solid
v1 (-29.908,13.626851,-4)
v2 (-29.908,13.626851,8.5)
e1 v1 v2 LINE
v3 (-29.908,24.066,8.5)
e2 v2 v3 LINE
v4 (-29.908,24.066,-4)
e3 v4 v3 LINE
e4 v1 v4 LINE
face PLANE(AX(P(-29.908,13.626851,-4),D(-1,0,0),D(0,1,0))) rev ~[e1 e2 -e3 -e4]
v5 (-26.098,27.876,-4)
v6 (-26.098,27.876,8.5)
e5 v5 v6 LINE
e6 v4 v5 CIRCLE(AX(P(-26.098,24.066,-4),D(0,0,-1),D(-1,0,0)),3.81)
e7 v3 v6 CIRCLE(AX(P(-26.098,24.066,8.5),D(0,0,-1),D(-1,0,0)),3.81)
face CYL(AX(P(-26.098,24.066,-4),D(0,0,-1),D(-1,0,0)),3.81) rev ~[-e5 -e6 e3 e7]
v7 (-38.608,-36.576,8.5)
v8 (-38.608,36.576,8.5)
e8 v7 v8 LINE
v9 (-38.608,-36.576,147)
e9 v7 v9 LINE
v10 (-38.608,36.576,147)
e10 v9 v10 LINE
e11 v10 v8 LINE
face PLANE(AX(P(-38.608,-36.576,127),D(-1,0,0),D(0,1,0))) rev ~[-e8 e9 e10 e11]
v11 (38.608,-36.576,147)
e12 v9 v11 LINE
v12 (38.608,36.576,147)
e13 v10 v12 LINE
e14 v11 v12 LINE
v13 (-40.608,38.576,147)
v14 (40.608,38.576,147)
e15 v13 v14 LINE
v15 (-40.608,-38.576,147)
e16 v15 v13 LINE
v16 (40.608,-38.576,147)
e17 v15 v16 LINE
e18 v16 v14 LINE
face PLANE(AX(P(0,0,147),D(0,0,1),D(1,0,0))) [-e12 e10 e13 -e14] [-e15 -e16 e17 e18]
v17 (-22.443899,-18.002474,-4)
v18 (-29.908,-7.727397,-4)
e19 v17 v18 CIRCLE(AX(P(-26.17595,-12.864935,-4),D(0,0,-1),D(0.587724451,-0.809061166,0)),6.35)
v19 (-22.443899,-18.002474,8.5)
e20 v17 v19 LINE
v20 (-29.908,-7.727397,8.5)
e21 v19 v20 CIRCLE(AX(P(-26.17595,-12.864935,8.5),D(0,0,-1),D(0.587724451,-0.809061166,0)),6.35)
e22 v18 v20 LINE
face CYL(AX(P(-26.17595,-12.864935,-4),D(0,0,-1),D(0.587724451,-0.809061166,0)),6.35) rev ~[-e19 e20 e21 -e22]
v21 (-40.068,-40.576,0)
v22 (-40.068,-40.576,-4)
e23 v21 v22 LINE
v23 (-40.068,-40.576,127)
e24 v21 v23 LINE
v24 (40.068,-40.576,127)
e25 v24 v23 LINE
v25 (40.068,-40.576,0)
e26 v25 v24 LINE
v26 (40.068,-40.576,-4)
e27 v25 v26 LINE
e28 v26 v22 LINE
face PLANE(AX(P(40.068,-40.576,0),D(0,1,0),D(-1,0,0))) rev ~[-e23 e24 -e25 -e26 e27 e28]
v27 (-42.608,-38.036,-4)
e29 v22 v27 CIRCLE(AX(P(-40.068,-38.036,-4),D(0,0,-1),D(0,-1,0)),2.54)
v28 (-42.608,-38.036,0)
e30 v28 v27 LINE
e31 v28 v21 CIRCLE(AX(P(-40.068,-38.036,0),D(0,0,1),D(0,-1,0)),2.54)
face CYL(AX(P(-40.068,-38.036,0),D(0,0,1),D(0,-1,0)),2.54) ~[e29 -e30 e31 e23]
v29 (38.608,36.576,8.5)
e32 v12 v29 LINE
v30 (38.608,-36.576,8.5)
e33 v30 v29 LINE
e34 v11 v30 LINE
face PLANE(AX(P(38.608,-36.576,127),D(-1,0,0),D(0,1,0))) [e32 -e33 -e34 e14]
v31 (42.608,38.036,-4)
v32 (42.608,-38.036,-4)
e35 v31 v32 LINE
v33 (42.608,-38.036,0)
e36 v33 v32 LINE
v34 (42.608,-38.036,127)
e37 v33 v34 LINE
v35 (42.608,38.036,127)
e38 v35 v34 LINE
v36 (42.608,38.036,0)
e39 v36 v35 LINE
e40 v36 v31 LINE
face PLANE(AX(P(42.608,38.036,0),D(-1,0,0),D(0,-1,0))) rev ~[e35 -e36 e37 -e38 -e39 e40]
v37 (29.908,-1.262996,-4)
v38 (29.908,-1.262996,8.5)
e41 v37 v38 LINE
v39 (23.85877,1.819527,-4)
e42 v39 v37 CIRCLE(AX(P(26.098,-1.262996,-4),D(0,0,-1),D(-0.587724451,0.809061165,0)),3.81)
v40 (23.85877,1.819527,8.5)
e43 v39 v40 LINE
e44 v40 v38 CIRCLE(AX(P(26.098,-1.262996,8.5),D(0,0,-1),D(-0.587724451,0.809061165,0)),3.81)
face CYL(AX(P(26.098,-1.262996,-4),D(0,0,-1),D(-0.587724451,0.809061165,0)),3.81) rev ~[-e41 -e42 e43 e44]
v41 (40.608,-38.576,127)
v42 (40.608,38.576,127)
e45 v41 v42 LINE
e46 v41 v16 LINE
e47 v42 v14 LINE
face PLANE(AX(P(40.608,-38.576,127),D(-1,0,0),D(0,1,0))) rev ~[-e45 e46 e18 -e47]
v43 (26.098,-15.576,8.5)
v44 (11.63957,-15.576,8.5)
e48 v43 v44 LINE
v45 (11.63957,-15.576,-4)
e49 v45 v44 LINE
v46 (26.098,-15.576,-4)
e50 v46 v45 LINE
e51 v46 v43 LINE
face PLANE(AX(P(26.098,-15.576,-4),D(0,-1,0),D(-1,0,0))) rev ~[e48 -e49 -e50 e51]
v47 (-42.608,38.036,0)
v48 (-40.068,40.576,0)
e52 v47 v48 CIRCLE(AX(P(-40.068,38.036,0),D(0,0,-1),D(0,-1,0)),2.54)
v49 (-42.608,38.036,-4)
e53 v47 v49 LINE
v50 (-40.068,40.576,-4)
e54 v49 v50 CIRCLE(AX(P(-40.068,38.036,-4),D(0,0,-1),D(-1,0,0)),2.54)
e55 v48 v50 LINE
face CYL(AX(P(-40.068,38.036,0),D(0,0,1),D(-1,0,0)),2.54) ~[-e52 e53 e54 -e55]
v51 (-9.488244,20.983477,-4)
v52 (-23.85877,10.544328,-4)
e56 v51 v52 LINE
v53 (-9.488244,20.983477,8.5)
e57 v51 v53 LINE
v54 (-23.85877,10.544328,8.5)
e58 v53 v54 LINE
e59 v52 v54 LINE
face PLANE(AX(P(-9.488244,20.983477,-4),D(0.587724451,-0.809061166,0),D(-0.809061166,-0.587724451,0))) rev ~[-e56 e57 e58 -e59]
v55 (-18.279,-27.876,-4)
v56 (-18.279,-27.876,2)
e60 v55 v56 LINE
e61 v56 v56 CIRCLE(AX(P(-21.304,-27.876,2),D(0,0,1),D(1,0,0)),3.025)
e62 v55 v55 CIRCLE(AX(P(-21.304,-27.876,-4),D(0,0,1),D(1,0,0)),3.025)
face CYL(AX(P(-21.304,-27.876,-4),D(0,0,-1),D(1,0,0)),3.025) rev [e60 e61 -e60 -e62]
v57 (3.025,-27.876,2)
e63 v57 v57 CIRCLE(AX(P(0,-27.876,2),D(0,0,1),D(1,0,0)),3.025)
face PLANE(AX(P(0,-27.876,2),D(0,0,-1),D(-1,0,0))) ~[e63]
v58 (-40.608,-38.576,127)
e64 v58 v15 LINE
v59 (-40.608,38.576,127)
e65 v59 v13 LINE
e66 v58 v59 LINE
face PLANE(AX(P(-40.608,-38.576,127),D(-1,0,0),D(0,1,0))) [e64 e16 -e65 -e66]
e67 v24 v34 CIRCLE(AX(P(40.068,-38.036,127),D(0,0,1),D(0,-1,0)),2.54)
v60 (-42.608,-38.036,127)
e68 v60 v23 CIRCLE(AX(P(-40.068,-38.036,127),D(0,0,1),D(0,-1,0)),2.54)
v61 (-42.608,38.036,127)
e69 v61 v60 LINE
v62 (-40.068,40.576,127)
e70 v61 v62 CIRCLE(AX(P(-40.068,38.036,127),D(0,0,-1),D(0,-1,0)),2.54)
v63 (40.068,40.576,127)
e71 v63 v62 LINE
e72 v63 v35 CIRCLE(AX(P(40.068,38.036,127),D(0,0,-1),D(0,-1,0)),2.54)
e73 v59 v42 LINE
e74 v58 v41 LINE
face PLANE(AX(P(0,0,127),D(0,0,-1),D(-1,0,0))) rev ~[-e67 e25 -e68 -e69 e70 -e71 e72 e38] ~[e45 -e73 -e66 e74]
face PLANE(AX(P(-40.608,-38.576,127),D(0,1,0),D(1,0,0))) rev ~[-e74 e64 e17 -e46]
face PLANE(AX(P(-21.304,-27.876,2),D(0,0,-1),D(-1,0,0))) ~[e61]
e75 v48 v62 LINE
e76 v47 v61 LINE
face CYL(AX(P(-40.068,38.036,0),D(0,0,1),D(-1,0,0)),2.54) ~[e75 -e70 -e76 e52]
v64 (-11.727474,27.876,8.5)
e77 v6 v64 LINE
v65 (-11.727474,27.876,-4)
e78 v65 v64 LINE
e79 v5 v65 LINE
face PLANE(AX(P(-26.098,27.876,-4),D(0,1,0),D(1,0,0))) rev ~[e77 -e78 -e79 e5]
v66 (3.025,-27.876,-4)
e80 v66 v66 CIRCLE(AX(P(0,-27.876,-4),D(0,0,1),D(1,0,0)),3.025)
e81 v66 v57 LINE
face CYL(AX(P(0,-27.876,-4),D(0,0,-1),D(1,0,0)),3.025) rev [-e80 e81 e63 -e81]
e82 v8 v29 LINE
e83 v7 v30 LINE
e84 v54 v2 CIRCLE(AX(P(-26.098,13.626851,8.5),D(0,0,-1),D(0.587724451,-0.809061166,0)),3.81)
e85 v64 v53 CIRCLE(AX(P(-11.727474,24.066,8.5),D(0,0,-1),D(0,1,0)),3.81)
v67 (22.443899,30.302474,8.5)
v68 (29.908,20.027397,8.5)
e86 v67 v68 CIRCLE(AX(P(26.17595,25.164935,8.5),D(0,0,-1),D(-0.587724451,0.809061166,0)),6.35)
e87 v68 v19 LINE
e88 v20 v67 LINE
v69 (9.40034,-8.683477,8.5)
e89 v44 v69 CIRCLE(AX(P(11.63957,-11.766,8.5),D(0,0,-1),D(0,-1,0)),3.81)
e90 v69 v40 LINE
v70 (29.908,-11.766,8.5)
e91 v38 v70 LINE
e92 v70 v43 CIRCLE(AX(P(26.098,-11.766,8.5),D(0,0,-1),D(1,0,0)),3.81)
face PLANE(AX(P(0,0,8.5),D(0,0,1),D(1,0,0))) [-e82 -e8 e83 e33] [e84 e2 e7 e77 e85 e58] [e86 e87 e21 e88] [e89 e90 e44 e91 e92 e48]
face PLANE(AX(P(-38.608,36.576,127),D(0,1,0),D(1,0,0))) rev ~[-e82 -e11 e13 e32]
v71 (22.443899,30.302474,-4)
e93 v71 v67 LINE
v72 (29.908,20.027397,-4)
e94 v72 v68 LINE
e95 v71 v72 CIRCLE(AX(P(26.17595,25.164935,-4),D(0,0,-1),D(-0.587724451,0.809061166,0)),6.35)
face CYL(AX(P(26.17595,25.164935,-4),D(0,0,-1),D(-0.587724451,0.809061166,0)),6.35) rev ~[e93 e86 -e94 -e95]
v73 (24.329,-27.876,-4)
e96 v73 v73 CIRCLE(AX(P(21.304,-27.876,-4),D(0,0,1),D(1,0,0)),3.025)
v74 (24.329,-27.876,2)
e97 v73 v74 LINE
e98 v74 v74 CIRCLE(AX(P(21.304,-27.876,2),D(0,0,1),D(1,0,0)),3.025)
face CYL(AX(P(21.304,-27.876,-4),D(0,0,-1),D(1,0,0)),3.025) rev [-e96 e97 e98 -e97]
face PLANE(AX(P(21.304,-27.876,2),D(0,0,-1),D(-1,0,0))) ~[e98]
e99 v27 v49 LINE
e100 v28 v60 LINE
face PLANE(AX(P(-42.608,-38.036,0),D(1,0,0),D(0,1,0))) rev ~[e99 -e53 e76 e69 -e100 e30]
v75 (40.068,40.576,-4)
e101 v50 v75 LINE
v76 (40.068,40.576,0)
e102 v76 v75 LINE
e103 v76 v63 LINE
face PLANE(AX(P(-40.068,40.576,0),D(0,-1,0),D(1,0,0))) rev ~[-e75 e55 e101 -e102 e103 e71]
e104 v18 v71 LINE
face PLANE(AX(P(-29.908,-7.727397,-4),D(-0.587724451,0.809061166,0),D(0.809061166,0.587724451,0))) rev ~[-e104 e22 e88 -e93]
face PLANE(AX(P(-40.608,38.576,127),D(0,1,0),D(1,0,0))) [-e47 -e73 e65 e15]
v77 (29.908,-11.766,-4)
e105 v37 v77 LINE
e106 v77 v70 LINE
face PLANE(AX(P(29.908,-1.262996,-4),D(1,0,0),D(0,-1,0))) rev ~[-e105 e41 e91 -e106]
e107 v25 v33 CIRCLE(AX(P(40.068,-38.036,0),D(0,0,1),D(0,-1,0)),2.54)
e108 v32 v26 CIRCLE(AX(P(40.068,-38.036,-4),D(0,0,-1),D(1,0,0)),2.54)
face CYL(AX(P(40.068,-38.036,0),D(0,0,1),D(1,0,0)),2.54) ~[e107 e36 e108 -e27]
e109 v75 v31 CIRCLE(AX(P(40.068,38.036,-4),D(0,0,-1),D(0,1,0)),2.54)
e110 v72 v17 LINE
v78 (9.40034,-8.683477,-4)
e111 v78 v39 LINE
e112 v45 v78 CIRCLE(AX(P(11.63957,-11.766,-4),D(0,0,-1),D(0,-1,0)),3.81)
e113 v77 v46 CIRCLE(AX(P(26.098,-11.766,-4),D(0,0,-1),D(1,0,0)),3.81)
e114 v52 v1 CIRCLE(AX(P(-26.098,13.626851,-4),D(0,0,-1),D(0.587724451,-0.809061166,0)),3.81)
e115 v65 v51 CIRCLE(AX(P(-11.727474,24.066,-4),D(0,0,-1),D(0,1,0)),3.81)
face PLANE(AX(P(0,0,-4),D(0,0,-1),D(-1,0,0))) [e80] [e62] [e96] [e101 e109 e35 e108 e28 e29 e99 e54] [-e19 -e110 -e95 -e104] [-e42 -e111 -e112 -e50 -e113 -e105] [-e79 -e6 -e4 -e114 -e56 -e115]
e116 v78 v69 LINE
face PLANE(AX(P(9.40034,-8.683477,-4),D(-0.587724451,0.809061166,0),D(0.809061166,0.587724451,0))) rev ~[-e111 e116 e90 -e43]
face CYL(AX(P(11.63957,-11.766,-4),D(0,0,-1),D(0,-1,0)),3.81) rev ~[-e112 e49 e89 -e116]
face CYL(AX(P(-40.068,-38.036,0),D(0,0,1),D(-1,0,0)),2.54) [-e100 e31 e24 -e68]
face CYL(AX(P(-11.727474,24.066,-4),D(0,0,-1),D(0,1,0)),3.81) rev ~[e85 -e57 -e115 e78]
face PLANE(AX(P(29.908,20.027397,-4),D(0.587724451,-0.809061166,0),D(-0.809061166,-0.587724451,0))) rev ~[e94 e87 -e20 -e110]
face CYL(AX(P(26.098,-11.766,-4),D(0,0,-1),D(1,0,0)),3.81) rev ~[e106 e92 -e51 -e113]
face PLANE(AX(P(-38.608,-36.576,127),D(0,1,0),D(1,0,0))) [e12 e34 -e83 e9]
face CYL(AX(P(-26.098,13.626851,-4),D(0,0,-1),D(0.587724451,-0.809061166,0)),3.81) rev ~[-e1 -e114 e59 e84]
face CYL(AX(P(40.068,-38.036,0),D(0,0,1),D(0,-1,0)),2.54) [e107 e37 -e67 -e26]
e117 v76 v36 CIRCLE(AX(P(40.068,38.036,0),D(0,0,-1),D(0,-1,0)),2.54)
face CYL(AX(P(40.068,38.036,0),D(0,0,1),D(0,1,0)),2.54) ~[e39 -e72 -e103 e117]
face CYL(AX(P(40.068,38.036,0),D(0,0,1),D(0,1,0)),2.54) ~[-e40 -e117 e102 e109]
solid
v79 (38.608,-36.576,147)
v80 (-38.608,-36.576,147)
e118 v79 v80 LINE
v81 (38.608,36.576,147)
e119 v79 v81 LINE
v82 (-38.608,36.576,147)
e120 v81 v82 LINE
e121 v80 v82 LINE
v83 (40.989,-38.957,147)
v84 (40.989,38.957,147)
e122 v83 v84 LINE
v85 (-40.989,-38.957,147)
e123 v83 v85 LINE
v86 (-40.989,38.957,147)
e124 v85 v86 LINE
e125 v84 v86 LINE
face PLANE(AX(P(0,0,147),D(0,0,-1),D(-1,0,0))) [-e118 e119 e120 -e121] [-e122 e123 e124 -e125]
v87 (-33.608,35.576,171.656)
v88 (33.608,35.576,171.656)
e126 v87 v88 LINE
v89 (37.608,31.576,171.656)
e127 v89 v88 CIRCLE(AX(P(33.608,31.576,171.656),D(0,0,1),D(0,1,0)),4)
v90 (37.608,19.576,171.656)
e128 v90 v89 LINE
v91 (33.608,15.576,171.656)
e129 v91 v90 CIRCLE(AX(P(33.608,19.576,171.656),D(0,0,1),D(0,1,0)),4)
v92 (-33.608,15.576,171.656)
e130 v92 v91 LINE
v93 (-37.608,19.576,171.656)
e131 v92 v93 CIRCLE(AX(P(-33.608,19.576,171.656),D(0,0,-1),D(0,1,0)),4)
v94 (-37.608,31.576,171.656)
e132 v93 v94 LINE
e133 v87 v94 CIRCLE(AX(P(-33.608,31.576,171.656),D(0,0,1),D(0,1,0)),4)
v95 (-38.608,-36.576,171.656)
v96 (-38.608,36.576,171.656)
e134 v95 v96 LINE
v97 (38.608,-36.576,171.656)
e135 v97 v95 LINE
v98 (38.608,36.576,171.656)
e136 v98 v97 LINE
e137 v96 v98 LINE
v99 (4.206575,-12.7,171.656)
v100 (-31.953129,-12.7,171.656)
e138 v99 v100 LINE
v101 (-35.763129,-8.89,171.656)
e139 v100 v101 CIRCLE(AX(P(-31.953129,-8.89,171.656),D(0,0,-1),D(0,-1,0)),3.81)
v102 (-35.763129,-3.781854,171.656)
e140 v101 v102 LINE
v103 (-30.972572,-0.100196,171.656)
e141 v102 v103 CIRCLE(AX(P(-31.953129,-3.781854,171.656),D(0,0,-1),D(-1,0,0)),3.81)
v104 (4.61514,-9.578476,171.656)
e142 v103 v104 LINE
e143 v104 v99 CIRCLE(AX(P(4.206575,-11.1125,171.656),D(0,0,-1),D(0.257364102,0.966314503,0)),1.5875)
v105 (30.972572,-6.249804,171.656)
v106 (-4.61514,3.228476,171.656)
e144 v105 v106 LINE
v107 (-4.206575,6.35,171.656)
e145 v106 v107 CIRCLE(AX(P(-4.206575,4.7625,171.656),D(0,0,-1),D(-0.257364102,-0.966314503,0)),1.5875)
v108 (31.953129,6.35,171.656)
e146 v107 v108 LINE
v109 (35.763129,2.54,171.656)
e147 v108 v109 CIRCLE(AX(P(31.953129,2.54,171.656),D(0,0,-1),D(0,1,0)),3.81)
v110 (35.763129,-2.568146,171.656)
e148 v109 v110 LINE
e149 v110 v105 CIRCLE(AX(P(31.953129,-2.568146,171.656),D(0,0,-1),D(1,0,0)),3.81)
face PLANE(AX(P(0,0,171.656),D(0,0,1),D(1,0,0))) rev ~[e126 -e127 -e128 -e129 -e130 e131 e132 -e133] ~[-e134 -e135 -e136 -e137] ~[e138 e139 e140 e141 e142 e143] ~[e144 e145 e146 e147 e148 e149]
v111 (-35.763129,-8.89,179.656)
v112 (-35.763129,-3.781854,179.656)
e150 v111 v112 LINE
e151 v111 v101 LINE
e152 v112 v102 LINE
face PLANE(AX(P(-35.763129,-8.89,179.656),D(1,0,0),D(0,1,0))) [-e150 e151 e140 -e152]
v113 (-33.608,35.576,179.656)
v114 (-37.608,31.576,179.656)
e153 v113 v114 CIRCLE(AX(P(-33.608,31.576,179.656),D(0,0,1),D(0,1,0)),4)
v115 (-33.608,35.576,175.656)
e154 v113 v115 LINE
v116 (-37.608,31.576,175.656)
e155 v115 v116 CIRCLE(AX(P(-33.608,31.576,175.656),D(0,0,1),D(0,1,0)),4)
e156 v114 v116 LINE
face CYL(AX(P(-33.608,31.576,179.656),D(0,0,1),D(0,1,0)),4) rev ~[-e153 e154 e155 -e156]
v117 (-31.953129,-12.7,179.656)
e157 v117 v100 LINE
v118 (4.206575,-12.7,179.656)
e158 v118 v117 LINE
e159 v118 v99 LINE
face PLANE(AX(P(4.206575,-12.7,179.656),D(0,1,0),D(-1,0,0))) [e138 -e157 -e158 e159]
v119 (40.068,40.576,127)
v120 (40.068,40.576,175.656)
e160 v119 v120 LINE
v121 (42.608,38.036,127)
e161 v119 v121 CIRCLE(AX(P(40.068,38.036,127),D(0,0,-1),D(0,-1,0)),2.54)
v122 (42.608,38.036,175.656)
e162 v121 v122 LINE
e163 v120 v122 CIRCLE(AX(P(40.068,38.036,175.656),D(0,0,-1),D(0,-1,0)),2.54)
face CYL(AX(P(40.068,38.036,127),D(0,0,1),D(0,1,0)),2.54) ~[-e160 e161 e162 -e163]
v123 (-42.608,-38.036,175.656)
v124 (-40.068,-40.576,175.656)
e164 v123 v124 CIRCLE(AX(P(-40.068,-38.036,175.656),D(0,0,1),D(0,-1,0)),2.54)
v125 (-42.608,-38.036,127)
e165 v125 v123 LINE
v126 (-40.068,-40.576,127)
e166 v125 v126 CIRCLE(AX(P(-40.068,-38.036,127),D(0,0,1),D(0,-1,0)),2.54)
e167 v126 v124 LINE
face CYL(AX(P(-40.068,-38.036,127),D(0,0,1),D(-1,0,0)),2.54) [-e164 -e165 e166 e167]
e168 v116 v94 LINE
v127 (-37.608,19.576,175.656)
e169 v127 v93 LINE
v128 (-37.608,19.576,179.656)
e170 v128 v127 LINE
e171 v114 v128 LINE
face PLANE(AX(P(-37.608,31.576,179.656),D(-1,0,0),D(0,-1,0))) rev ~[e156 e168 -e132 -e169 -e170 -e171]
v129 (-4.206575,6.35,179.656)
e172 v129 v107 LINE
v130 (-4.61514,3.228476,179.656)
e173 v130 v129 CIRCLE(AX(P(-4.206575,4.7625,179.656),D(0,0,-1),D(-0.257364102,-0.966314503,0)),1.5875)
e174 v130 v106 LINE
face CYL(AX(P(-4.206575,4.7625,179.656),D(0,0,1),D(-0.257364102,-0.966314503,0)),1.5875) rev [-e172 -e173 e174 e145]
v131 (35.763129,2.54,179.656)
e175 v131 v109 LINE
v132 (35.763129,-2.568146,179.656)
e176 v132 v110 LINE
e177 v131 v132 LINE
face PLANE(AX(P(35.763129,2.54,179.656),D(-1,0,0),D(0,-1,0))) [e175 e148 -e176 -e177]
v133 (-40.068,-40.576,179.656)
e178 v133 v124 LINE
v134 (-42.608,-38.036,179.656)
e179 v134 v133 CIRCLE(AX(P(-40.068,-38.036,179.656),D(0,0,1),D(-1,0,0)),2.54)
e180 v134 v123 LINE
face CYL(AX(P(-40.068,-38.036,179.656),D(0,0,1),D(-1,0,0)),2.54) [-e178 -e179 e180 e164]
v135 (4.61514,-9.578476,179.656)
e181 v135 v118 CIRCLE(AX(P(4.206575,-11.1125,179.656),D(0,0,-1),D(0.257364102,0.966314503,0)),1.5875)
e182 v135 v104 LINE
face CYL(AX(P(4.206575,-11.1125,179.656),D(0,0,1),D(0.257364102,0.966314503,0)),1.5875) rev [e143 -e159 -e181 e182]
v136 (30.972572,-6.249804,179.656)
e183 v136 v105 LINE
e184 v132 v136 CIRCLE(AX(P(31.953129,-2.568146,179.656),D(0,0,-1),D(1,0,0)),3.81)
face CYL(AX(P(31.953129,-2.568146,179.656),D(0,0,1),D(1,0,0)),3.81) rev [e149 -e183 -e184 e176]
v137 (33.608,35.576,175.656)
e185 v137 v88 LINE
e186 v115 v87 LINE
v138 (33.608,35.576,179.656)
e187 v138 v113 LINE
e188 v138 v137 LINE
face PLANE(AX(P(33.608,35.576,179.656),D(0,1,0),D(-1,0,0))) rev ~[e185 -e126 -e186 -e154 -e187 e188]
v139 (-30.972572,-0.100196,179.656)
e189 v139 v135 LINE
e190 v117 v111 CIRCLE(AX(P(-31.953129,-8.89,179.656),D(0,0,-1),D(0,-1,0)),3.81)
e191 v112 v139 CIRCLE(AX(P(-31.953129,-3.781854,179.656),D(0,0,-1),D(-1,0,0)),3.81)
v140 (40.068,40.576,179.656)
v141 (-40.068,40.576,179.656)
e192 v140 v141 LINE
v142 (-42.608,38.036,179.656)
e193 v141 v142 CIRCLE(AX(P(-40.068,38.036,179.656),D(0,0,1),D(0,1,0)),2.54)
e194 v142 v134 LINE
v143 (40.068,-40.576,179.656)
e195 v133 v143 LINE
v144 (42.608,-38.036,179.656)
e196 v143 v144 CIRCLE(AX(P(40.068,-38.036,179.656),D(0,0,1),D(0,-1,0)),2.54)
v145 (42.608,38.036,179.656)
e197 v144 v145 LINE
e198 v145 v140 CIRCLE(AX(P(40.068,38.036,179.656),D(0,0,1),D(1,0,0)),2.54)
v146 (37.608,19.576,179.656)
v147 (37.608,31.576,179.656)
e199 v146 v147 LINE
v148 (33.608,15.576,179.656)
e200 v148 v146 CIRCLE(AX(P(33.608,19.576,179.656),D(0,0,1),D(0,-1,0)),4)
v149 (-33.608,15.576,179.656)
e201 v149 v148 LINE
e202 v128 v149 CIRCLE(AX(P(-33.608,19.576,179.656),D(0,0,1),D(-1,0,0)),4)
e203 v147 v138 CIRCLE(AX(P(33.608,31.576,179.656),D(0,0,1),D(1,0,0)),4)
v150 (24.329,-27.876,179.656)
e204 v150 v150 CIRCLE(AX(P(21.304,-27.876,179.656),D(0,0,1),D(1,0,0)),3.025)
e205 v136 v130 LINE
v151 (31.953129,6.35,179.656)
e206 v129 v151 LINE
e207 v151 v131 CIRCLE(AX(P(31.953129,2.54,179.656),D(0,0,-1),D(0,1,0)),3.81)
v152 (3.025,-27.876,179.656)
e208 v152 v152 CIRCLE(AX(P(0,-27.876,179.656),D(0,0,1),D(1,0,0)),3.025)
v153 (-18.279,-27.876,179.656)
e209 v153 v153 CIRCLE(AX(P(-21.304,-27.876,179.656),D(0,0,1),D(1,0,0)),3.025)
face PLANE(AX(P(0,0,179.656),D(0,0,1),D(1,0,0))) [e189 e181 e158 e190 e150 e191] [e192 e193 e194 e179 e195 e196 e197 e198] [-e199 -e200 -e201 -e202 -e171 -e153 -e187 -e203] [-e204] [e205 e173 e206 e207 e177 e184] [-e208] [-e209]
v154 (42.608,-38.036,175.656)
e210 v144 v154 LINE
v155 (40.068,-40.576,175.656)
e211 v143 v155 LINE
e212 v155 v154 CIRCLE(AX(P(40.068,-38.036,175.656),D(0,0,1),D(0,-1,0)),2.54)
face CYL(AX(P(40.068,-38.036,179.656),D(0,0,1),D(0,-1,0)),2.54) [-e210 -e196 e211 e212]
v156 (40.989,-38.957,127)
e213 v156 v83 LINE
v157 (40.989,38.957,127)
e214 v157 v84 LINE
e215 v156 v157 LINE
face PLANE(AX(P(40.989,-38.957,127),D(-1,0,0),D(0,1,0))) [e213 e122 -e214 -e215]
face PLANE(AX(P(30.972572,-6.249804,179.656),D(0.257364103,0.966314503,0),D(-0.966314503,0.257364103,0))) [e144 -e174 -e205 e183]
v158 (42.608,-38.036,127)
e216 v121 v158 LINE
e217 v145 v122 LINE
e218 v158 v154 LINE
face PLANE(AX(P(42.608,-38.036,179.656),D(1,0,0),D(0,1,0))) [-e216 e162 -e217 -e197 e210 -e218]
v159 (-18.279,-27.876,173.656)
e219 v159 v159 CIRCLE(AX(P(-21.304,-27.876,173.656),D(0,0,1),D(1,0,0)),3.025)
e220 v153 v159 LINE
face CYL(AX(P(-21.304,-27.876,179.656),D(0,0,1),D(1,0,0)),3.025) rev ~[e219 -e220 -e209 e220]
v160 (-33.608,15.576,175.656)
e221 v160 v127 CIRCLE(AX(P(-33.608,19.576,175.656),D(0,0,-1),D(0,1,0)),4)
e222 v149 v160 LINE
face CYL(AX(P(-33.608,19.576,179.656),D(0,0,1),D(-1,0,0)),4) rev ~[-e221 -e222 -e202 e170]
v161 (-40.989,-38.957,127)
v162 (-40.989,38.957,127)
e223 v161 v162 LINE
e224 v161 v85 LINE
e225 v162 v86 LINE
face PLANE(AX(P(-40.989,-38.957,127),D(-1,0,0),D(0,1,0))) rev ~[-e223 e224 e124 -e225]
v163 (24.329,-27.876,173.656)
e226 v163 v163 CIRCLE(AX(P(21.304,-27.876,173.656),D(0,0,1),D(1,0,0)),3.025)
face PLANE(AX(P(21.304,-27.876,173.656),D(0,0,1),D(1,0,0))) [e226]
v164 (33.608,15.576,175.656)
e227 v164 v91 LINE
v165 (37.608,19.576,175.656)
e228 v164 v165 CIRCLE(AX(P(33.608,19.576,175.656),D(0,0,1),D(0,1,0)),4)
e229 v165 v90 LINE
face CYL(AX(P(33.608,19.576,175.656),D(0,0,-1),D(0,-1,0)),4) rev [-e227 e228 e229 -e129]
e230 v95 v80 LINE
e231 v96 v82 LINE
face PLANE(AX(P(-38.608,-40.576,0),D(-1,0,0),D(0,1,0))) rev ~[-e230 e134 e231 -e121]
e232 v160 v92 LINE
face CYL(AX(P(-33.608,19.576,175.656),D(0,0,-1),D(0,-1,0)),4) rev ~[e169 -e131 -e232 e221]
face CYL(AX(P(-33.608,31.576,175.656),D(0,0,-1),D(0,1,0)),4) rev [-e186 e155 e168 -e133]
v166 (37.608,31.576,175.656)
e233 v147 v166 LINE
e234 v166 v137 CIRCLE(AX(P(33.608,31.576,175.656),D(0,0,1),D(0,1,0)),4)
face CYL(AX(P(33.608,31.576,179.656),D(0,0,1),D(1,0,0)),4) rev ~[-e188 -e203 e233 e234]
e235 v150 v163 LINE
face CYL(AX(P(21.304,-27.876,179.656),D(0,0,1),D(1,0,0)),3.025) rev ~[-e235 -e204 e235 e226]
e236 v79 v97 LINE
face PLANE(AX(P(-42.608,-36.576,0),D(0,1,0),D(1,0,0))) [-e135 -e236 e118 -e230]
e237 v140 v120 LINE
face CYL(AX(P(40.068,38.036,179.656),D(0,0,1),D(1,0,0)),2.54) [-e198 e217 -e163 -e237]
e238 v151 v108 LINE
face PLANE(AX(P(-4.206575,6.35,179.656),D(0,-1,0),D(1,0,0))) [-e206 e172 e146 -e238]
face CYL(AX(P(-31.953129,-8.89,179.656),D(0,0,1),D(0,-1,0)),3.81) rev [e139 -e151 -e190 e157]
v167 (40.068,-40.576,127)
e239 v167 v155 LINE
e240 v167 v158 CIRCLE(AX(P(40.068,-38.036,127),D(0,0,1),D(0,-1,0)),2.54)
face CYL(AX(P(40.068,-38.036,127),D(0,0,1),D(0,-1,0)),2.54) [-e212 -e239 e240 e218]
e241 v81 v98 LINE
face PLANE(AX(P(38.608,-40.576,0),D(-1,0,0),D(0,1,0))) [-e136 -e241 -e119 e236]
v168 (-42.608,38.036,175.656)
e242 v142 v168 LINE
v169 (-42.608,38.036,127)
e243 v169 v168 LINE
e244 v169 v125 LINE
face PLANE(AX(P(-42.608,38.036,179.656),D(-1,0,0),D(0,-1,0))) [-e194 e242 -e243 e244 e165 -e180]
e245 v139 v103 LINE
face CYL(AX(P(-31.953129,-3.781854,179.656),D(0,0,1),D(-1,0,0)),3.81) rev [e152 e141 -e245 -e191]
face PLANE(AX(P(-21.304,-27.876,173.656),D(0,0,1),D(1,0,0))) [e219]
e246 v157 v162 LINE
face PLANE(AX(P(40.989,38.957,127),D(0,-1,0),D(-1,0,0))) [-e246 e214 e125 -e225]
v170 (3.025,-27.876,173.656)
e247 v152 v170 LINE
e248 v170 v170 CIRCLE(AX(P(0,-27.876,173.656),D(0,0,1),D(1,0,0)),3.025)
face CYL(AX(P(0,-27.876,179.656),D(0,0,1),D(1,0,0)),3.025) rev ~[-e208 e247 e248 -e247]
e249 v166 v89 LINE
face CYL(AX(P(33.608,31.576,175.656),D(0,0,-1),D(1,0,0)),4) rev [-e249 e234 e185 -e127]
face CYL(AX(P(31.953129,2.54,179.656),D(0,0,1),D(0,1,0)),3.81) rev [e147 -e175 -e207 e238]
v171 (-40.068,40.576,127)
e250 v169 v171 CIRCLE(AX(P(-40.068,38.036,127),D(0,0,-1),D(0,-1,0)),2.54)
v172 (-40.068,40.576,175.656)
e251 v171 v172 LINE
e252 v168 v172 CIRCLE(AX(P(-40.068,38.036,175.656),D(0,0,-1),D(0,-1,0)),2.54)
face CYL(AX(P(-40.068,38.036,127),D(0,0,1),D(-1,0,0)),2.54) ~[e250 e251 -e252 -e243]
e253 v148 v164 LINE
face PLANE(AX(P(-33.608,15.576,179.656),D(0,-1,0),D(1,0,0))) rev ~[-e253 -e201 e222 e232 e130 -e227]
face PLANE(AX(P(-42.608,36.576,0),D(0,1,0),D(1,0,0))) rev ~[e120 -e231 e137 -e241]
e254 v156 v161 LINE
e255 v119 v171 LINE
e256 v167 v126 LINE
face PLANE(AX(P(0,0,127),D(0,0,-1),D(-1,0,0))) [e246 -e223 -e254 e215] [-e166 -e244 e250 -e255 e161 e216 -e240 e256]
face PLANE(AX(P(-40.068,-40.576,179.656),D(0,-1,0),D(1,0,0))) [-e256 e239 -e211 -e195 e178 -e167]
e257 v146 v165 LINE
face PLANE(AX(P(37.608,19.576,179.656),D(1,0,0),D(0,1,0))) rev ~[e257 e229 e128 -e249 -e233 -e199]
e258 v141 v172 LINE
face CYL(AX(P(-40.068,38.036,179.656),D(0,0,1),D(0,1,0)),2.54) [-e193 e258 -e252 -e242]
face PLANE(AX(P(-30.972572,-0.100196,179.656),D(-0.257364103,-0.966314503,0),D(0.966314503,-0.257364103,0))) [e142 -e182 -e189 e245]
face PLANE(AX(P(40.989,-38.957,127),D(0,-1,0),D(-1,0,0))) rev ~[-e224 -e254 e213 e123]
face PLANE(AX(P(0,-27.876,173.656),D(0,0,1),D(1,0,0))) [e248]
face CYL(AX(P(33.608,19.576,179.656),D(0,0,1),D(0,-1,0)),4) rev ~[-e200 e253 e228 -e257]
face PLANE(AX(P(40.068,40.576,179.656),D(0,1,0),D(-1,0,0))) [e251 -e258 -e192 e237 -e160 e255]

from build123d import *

# Parameters (mm, degrees)
SKETCH1_W           = 85.216
SKETCH1_H           = 81.152
BOSS_EXTRUDE1_DEPTH = 175.656
SHELL2_T            = -4
SHELL3_T            = -4
FILLET1_R           = 2.54
FILLET2_R           = 2.54
SKETCH4_W           = 81.216
SKETCH4_H           = 77.152
SKETCH4_W_2         = 77.216
SKETCH4_H_2         = 73.152
BOSS_EXTRUDE2_DEPTH = 20
SKETCH5_W           = 81.978
SKETCH5_H           = 77.914
SKETCH5_W_2         = 77.216
SKETCH5_H_2         = 73.152
CUT_EXTRUDE2_DEPTH  = 20
SKETCH6_W           = 75.216
SKETCH6_H           = 20
CUT_EXTRUDE3_DEPTH  = 4
FILLET3_R           = 4
BOSS_EXTRUDE3_START = 4
BOSS_EXTRUDE3_DEPTH = 4
BOSS_EXTRUDE4_DEPTH = 4
SKETCH9_R           = 3.025
CUT_EXTRUDE4_DEPTH  = 6
SKETCH10_W          = 77.216
SKETCH10_H          = 73.152
BOSS_EXTRUDE5_DEPTH = 4.500000096
CUT_EXTRUDE5_DEPTH  = 12.500000096
CUT_EXTRUDE6_DEPTH  = 8


with BuildPart() as part:
    # Sketch1 → Boss-Extrude1 (new body)
    with BuildSketch(Plane.XY):
        Rectangle(SKETCH1_W, SKETCH1_H)
    extrude(amount=BOSS_EXTRUDE1_DEPTH)


with BuildPart() as body_2:
    # Split1: the piece on the far side of the plane
    add(part.part)
    split(bisect_by=Plane(origin=(0, 0, 127), x_dir=(-1, 0, 0), z_dir=(0, 0, -1)), keep=Keep.BOTTOM)

    # Shell3
    shell3_openings = [body_2.faces().sort_by_distance(p)[0] for p in [
        (0, 0, 127),
    ]]
    offset(amount=SHELL3_T, openings=shell3_openings, kind=Kind.INTERSECTION)

    # Fillet2
    fillet2_edges = [body_2.edges().sort_by_distance(p)[0] for p in [
        (-42.608, 40.576, 151.328),
        (42.608, 40.576, 151.328),
        (42.608, -40.576, 151.328),
        (-42.608, -40.576, 151.328),
    ]]
    fillet(fillet2_edges, radius=FILLET2_R)

    # Sketch5 → Cut-Extrude2 (cut)
    with BuildSketch(Plane(origin=(0, 0, 127), x_dir=(-1, 0, 0), z_dir=(0, 0, -1))):
        Rectangle(SKETCH5_W, SKETCH5_H)
        Rectangle(SKETCH5_W_2, SKETCH5_H_2, mode=Mode.SUBTRACT)
    extrude(amount=-CUT_EXTRUDE2_DEPTH, mode=Mode.SUBTRACT)

    # Sketch6 → Cut-Extrude3 (cut)
    with BuildSketch(Plane.XY.offset(175.656)):
        with Locations((0, 25.576)):
            Rectangle(SKETCH6_W, SKETCH6_H)
    extrude(amount=-CUT_EXTRUDE3_DEPTH, mode=Mode.SUBTRACT)

    # Fillet3
    fillet3_edges = [body_2.edges().sort_by_distance(p)[0] for p in [
        (37.608, 35.576, 173.656),
        (37.608, 15.576, 173.656),
        (-37.608, 15.576, 173.656),
        (-37.608, 35.576, 173.656),
    ]]
    fillet(fillet3_edges, radius=FILLET3_R)

    # Sketch7 → Boss-Extrude3 (add)
    with BuildSketch(Plane.XY.offset(175.656).offset(BOSS_EXTRUDE3_START)):
        with BuildLine():
            Line((-42.608, 38.036), (-42.608, -38.036))
            ThreePointArc((-42.608, -38.036), (-41.864051224, -39.832051224), (-40.068, -40.576))
            Line((-40.068, -40.576), (40.068, -40.576))
            ThreePointArc((40.068, -40.576), (41.864051224, -39.832051224), (42.608, -38.036))
            Line((42.608, -38.036), (42.608, 38.036))
            ThreePointArc((42.608, 38.036), (41.864051224, 39.832051224), (40.068, 40.576))
            Line((40.068, 40.576), (-40.068, 40.576))
            ThreePointArc((-40.068, 40.576), (-41.864051224, 39.832051224), (-42.608, 38.036))
        make_face()
        with BuildLine():
            Line((-33.608, 15.576), (33.608, 15.576))
            ThreePointArc((33.608, 15.576), (36.436427125, 16.747572875), (37.608, 19.576))
            Line((37.608, 19.576), (37.608, 31.576))
            ThreePointArc((37.608, 31.576), (36.436427125, 34.404427125), (33.608, 35.576))
            Line((33.608, 35.576), (-33.608, 35.576))
            ThreePointArc((-33.608, 35.576), (-36.436427125, 34.404427125), (-37.608, 31.576))
            Line((-37.608, 31.576), (-37.608, 19.576))
            ThreePointArc((-37.608, 19.576), (-36.436427125, 16.747572875), (-33.608, 15.576))
        make_face(mode=Mode.SUBTRACT)
    extrude(amount=-BOSS_EXTRUDE3_DEPTH)

    # Sketch9 → Cut-Extrude4 (cut)
    with BuildSketch(Plane.XY.offset(179.656)):
        with Locations((-21.304, -27.876)):
            Circle(SKETCH9_R)
        with Locations((0, -27.876)):
            Circle(SKETCH9_R)
        with Locations((21.304, -27.876)):
            Circle(SKETCH9_R)
    cut_extrude4 = extrude(amount=-CUT_EXTRUDE4_DEPTH, mode=Mode.SUBTRACT)

    # Sketch12 → Cut-Extrude6 (cut)
    with BuildSketch(Plane.XY.offset(179.656)):
        with BuildLine():
            Line((-30.972571902, -0.100195505), (4.615140384, -9.578475727))
            ThreePointArc((4.615140384, -9.578475727), (5.780649168, -11.318525139), (4.206574871, -12.7))
            Line((4.206574871, -12.7), (-31.953129133, -12.7))
            ThreePointArc((-31.953129133, -12.7), (-34.64720597, -11.584076836), (-35.763129133, -8.89))
            Line((-35.763129133, -8.89), (-35.763129133, -3.781853761))
            ThreePointArc((-35.763129133, -3.781853761), (-34.274785541, -0.760924844), (-30.972571902, -0.100195505))
        make_face()
        with BuildLine():
            Line((-4.206574871, 6.35), (31.953129133, 6.35))
            ThreePointArc((31.953129133, 6.35), (34.64720597, 5.234076836), (35.763129133, 2.54))
            Line((35.763129133, 2.54), (35.763129133, -2.568146239))
            ThreePointArc((35.763129133, -2.568146239), (34.274785541, -5.589075156), (30.972571902, -6.249804495))
            Line((30.972571902, -6.249804495), (-4.615140384, 3.228475727))
            ThreePointArc((-4.615140384, 3.228475727), (-5.780649168, 4.968525139), (-4.206574871, 6.35))
        make_face()
    extrude(amount=-CUT_EXTRUDE6_DEPTH, mode=Mode.SUBTRACT)


with BuildPart() as part_1:
    add(part.part)

    # Split1
    split(bisect_by=Plane(origin=(0, 0, 127), x_dir=(-1, 0, 0), z_dir=(0, 0, -1)), keep=Keep.TOP)

    # Shell2
    shell2_openings = [part_1.faces().sort_by_distance(p)[0] for p in [
        (0, 0, 127),
    ]]
    offset(amount=SHELL2_T, openings=shell2_openings, kind=Kind.INTERSECTION)

    # Fillet1
    fillet1_edges = [part_1.edges().sort_by_distance(p)[0] for p in [
        (-42.608, 40.576, 63.5),
        (42.608, 40.576, 63.5),
        (42.608, -40.576, 63.5),
        (-42.608, -40.576, 63.5),
    ]]
    fillet(fillet1_edges, radius=FILLET1_R)

    # Sketch4 → Boss-Extrude2 (add)
    with BuildSketch(Plane.XY.offset(127)):
        Rectangle(SKETCH4_W, SKETCH4_H)
        Rectangle(SKETCH4_W_2, SKETCH4_H_2, mode=Mode.SUBTRACT)
    extrude(amount=BOSS_EXTRUDE2_DEPTH)

    # Sketch8 → Boss-Extrude4 (add)
    with BuildSketch(Plane(origin=(0, 0, 0), x_dir=(-1, 0, 0), z_dir=(0, 0, -1))):
        with BuildLine():
            Line((40.068, 40.576), (-40.068, 40.576))
            ThreePointArc((-40.068, 40.576), (-41.864051224, 39.832051224), (-42.608, 38.036))
            Line((-42.608, 38.036), (-42.608, -38.036))
            ThreePointArc((-42.608, -38.036), (-41.864051224, -39.832051224), (-40.068, -40.576))
            Line((-40.068, -40.576), (40.068, -40.576))
            ThreePointArc((40.068, -40.576), (41.864051224, -39.832051224), (42.608, -38.036))
            Line((42.608, -38.036), (42.608, 38.036))
            ThreePointArc((42.608, 38.036), (41.864051224, 39.832051224), (40.068, 40.576))
        make_face()
    extrude(amount=BOSS_EXTRUDE4_DEPTH)

    # Mirror1: Cut-Extrude4 across plane
    add(cut_extrude4.mirror(Plane.XY.offset(87.828)), mode=Mode.SUBTRACT)

    # Sketch10 → Boss-Extrude5 (add)
    with BuildSketch(Plane.XY.offset(4)):
        Rectangle(SKETCH10_W, SKETCH10_H)
    extrude(amount=BOSS_EXTRUDE5_DEPTH)

    # Sketch11 → Cut-Extrude5 (cut)
    with BuildSketch(Plane(origin=(0, 0, -4), x_dir=(-1, 0, 0), z_dir=(0, 0, -1))):
        with BuildLine():
            ThreePointArc((29.908, 24.066), (28.792076836, 26.760076836), (26.098, 27.876))
            Line((26.098, 27.876), (11.727473696, 27.876))
            ThreePointArc((11.727473696, 27.876), (8.103904131, 25.243218589), (9.488243538, 20.983476959))
            Line((9.488243538, 20.983476959), (23.858769841, 10.544328421))
            ThreePointArc((23.858769841, 10.544328421), (27.827831364, 10.232181603), (29.908, 13.626851462))
            Line((29.908, 13.626851462), (29.908, 24.066))
        make_face()
        with BuildLine():
            ThreePointArc((-23.858769841, 1.819526927), (-27.827831364, 2.131673746), (-29.908, -1.262996113))
            Line((-29.908, -1.262996113), (-29.908, -11.766))
            ThreePointArc((-29.908, -11.766), (-28.792076836, -14.460076836), (-26.098, -15.576))
            Line((-26.098, -15.576), (-11.639570458, -15.576))
            ThreePointArc((-11.639570458, -15.576), (-8.016000893, -12.943218589), (-9.400340299, -8.683476959))
            Line((-9.400340299, -8.683476959), (-23.858769841, 1.819526927))
        make_face()
        with BuildLine():
            ThreePointArc((22.443899471, -18.002473668), (31.313488137, -16.596985531), (29.908, -7.727396865))
            Line((29.908, -7.727396865), (-22.443899471, 30.302473668))
            ThreePointArc((-22.443899471, 30.302473668), (-31.313488137, 28.896985531), (-29.908, 20.027396865))
            Line((-29.908, 20.027396865), (22.443899471, -18.002473668))
        make_face()
    extrude(amount=-CUT_EXTRUDE5_DEPTH, mode=Mode.SUBTRACT)


solid = Compound([body_2.part, part_1.part])
